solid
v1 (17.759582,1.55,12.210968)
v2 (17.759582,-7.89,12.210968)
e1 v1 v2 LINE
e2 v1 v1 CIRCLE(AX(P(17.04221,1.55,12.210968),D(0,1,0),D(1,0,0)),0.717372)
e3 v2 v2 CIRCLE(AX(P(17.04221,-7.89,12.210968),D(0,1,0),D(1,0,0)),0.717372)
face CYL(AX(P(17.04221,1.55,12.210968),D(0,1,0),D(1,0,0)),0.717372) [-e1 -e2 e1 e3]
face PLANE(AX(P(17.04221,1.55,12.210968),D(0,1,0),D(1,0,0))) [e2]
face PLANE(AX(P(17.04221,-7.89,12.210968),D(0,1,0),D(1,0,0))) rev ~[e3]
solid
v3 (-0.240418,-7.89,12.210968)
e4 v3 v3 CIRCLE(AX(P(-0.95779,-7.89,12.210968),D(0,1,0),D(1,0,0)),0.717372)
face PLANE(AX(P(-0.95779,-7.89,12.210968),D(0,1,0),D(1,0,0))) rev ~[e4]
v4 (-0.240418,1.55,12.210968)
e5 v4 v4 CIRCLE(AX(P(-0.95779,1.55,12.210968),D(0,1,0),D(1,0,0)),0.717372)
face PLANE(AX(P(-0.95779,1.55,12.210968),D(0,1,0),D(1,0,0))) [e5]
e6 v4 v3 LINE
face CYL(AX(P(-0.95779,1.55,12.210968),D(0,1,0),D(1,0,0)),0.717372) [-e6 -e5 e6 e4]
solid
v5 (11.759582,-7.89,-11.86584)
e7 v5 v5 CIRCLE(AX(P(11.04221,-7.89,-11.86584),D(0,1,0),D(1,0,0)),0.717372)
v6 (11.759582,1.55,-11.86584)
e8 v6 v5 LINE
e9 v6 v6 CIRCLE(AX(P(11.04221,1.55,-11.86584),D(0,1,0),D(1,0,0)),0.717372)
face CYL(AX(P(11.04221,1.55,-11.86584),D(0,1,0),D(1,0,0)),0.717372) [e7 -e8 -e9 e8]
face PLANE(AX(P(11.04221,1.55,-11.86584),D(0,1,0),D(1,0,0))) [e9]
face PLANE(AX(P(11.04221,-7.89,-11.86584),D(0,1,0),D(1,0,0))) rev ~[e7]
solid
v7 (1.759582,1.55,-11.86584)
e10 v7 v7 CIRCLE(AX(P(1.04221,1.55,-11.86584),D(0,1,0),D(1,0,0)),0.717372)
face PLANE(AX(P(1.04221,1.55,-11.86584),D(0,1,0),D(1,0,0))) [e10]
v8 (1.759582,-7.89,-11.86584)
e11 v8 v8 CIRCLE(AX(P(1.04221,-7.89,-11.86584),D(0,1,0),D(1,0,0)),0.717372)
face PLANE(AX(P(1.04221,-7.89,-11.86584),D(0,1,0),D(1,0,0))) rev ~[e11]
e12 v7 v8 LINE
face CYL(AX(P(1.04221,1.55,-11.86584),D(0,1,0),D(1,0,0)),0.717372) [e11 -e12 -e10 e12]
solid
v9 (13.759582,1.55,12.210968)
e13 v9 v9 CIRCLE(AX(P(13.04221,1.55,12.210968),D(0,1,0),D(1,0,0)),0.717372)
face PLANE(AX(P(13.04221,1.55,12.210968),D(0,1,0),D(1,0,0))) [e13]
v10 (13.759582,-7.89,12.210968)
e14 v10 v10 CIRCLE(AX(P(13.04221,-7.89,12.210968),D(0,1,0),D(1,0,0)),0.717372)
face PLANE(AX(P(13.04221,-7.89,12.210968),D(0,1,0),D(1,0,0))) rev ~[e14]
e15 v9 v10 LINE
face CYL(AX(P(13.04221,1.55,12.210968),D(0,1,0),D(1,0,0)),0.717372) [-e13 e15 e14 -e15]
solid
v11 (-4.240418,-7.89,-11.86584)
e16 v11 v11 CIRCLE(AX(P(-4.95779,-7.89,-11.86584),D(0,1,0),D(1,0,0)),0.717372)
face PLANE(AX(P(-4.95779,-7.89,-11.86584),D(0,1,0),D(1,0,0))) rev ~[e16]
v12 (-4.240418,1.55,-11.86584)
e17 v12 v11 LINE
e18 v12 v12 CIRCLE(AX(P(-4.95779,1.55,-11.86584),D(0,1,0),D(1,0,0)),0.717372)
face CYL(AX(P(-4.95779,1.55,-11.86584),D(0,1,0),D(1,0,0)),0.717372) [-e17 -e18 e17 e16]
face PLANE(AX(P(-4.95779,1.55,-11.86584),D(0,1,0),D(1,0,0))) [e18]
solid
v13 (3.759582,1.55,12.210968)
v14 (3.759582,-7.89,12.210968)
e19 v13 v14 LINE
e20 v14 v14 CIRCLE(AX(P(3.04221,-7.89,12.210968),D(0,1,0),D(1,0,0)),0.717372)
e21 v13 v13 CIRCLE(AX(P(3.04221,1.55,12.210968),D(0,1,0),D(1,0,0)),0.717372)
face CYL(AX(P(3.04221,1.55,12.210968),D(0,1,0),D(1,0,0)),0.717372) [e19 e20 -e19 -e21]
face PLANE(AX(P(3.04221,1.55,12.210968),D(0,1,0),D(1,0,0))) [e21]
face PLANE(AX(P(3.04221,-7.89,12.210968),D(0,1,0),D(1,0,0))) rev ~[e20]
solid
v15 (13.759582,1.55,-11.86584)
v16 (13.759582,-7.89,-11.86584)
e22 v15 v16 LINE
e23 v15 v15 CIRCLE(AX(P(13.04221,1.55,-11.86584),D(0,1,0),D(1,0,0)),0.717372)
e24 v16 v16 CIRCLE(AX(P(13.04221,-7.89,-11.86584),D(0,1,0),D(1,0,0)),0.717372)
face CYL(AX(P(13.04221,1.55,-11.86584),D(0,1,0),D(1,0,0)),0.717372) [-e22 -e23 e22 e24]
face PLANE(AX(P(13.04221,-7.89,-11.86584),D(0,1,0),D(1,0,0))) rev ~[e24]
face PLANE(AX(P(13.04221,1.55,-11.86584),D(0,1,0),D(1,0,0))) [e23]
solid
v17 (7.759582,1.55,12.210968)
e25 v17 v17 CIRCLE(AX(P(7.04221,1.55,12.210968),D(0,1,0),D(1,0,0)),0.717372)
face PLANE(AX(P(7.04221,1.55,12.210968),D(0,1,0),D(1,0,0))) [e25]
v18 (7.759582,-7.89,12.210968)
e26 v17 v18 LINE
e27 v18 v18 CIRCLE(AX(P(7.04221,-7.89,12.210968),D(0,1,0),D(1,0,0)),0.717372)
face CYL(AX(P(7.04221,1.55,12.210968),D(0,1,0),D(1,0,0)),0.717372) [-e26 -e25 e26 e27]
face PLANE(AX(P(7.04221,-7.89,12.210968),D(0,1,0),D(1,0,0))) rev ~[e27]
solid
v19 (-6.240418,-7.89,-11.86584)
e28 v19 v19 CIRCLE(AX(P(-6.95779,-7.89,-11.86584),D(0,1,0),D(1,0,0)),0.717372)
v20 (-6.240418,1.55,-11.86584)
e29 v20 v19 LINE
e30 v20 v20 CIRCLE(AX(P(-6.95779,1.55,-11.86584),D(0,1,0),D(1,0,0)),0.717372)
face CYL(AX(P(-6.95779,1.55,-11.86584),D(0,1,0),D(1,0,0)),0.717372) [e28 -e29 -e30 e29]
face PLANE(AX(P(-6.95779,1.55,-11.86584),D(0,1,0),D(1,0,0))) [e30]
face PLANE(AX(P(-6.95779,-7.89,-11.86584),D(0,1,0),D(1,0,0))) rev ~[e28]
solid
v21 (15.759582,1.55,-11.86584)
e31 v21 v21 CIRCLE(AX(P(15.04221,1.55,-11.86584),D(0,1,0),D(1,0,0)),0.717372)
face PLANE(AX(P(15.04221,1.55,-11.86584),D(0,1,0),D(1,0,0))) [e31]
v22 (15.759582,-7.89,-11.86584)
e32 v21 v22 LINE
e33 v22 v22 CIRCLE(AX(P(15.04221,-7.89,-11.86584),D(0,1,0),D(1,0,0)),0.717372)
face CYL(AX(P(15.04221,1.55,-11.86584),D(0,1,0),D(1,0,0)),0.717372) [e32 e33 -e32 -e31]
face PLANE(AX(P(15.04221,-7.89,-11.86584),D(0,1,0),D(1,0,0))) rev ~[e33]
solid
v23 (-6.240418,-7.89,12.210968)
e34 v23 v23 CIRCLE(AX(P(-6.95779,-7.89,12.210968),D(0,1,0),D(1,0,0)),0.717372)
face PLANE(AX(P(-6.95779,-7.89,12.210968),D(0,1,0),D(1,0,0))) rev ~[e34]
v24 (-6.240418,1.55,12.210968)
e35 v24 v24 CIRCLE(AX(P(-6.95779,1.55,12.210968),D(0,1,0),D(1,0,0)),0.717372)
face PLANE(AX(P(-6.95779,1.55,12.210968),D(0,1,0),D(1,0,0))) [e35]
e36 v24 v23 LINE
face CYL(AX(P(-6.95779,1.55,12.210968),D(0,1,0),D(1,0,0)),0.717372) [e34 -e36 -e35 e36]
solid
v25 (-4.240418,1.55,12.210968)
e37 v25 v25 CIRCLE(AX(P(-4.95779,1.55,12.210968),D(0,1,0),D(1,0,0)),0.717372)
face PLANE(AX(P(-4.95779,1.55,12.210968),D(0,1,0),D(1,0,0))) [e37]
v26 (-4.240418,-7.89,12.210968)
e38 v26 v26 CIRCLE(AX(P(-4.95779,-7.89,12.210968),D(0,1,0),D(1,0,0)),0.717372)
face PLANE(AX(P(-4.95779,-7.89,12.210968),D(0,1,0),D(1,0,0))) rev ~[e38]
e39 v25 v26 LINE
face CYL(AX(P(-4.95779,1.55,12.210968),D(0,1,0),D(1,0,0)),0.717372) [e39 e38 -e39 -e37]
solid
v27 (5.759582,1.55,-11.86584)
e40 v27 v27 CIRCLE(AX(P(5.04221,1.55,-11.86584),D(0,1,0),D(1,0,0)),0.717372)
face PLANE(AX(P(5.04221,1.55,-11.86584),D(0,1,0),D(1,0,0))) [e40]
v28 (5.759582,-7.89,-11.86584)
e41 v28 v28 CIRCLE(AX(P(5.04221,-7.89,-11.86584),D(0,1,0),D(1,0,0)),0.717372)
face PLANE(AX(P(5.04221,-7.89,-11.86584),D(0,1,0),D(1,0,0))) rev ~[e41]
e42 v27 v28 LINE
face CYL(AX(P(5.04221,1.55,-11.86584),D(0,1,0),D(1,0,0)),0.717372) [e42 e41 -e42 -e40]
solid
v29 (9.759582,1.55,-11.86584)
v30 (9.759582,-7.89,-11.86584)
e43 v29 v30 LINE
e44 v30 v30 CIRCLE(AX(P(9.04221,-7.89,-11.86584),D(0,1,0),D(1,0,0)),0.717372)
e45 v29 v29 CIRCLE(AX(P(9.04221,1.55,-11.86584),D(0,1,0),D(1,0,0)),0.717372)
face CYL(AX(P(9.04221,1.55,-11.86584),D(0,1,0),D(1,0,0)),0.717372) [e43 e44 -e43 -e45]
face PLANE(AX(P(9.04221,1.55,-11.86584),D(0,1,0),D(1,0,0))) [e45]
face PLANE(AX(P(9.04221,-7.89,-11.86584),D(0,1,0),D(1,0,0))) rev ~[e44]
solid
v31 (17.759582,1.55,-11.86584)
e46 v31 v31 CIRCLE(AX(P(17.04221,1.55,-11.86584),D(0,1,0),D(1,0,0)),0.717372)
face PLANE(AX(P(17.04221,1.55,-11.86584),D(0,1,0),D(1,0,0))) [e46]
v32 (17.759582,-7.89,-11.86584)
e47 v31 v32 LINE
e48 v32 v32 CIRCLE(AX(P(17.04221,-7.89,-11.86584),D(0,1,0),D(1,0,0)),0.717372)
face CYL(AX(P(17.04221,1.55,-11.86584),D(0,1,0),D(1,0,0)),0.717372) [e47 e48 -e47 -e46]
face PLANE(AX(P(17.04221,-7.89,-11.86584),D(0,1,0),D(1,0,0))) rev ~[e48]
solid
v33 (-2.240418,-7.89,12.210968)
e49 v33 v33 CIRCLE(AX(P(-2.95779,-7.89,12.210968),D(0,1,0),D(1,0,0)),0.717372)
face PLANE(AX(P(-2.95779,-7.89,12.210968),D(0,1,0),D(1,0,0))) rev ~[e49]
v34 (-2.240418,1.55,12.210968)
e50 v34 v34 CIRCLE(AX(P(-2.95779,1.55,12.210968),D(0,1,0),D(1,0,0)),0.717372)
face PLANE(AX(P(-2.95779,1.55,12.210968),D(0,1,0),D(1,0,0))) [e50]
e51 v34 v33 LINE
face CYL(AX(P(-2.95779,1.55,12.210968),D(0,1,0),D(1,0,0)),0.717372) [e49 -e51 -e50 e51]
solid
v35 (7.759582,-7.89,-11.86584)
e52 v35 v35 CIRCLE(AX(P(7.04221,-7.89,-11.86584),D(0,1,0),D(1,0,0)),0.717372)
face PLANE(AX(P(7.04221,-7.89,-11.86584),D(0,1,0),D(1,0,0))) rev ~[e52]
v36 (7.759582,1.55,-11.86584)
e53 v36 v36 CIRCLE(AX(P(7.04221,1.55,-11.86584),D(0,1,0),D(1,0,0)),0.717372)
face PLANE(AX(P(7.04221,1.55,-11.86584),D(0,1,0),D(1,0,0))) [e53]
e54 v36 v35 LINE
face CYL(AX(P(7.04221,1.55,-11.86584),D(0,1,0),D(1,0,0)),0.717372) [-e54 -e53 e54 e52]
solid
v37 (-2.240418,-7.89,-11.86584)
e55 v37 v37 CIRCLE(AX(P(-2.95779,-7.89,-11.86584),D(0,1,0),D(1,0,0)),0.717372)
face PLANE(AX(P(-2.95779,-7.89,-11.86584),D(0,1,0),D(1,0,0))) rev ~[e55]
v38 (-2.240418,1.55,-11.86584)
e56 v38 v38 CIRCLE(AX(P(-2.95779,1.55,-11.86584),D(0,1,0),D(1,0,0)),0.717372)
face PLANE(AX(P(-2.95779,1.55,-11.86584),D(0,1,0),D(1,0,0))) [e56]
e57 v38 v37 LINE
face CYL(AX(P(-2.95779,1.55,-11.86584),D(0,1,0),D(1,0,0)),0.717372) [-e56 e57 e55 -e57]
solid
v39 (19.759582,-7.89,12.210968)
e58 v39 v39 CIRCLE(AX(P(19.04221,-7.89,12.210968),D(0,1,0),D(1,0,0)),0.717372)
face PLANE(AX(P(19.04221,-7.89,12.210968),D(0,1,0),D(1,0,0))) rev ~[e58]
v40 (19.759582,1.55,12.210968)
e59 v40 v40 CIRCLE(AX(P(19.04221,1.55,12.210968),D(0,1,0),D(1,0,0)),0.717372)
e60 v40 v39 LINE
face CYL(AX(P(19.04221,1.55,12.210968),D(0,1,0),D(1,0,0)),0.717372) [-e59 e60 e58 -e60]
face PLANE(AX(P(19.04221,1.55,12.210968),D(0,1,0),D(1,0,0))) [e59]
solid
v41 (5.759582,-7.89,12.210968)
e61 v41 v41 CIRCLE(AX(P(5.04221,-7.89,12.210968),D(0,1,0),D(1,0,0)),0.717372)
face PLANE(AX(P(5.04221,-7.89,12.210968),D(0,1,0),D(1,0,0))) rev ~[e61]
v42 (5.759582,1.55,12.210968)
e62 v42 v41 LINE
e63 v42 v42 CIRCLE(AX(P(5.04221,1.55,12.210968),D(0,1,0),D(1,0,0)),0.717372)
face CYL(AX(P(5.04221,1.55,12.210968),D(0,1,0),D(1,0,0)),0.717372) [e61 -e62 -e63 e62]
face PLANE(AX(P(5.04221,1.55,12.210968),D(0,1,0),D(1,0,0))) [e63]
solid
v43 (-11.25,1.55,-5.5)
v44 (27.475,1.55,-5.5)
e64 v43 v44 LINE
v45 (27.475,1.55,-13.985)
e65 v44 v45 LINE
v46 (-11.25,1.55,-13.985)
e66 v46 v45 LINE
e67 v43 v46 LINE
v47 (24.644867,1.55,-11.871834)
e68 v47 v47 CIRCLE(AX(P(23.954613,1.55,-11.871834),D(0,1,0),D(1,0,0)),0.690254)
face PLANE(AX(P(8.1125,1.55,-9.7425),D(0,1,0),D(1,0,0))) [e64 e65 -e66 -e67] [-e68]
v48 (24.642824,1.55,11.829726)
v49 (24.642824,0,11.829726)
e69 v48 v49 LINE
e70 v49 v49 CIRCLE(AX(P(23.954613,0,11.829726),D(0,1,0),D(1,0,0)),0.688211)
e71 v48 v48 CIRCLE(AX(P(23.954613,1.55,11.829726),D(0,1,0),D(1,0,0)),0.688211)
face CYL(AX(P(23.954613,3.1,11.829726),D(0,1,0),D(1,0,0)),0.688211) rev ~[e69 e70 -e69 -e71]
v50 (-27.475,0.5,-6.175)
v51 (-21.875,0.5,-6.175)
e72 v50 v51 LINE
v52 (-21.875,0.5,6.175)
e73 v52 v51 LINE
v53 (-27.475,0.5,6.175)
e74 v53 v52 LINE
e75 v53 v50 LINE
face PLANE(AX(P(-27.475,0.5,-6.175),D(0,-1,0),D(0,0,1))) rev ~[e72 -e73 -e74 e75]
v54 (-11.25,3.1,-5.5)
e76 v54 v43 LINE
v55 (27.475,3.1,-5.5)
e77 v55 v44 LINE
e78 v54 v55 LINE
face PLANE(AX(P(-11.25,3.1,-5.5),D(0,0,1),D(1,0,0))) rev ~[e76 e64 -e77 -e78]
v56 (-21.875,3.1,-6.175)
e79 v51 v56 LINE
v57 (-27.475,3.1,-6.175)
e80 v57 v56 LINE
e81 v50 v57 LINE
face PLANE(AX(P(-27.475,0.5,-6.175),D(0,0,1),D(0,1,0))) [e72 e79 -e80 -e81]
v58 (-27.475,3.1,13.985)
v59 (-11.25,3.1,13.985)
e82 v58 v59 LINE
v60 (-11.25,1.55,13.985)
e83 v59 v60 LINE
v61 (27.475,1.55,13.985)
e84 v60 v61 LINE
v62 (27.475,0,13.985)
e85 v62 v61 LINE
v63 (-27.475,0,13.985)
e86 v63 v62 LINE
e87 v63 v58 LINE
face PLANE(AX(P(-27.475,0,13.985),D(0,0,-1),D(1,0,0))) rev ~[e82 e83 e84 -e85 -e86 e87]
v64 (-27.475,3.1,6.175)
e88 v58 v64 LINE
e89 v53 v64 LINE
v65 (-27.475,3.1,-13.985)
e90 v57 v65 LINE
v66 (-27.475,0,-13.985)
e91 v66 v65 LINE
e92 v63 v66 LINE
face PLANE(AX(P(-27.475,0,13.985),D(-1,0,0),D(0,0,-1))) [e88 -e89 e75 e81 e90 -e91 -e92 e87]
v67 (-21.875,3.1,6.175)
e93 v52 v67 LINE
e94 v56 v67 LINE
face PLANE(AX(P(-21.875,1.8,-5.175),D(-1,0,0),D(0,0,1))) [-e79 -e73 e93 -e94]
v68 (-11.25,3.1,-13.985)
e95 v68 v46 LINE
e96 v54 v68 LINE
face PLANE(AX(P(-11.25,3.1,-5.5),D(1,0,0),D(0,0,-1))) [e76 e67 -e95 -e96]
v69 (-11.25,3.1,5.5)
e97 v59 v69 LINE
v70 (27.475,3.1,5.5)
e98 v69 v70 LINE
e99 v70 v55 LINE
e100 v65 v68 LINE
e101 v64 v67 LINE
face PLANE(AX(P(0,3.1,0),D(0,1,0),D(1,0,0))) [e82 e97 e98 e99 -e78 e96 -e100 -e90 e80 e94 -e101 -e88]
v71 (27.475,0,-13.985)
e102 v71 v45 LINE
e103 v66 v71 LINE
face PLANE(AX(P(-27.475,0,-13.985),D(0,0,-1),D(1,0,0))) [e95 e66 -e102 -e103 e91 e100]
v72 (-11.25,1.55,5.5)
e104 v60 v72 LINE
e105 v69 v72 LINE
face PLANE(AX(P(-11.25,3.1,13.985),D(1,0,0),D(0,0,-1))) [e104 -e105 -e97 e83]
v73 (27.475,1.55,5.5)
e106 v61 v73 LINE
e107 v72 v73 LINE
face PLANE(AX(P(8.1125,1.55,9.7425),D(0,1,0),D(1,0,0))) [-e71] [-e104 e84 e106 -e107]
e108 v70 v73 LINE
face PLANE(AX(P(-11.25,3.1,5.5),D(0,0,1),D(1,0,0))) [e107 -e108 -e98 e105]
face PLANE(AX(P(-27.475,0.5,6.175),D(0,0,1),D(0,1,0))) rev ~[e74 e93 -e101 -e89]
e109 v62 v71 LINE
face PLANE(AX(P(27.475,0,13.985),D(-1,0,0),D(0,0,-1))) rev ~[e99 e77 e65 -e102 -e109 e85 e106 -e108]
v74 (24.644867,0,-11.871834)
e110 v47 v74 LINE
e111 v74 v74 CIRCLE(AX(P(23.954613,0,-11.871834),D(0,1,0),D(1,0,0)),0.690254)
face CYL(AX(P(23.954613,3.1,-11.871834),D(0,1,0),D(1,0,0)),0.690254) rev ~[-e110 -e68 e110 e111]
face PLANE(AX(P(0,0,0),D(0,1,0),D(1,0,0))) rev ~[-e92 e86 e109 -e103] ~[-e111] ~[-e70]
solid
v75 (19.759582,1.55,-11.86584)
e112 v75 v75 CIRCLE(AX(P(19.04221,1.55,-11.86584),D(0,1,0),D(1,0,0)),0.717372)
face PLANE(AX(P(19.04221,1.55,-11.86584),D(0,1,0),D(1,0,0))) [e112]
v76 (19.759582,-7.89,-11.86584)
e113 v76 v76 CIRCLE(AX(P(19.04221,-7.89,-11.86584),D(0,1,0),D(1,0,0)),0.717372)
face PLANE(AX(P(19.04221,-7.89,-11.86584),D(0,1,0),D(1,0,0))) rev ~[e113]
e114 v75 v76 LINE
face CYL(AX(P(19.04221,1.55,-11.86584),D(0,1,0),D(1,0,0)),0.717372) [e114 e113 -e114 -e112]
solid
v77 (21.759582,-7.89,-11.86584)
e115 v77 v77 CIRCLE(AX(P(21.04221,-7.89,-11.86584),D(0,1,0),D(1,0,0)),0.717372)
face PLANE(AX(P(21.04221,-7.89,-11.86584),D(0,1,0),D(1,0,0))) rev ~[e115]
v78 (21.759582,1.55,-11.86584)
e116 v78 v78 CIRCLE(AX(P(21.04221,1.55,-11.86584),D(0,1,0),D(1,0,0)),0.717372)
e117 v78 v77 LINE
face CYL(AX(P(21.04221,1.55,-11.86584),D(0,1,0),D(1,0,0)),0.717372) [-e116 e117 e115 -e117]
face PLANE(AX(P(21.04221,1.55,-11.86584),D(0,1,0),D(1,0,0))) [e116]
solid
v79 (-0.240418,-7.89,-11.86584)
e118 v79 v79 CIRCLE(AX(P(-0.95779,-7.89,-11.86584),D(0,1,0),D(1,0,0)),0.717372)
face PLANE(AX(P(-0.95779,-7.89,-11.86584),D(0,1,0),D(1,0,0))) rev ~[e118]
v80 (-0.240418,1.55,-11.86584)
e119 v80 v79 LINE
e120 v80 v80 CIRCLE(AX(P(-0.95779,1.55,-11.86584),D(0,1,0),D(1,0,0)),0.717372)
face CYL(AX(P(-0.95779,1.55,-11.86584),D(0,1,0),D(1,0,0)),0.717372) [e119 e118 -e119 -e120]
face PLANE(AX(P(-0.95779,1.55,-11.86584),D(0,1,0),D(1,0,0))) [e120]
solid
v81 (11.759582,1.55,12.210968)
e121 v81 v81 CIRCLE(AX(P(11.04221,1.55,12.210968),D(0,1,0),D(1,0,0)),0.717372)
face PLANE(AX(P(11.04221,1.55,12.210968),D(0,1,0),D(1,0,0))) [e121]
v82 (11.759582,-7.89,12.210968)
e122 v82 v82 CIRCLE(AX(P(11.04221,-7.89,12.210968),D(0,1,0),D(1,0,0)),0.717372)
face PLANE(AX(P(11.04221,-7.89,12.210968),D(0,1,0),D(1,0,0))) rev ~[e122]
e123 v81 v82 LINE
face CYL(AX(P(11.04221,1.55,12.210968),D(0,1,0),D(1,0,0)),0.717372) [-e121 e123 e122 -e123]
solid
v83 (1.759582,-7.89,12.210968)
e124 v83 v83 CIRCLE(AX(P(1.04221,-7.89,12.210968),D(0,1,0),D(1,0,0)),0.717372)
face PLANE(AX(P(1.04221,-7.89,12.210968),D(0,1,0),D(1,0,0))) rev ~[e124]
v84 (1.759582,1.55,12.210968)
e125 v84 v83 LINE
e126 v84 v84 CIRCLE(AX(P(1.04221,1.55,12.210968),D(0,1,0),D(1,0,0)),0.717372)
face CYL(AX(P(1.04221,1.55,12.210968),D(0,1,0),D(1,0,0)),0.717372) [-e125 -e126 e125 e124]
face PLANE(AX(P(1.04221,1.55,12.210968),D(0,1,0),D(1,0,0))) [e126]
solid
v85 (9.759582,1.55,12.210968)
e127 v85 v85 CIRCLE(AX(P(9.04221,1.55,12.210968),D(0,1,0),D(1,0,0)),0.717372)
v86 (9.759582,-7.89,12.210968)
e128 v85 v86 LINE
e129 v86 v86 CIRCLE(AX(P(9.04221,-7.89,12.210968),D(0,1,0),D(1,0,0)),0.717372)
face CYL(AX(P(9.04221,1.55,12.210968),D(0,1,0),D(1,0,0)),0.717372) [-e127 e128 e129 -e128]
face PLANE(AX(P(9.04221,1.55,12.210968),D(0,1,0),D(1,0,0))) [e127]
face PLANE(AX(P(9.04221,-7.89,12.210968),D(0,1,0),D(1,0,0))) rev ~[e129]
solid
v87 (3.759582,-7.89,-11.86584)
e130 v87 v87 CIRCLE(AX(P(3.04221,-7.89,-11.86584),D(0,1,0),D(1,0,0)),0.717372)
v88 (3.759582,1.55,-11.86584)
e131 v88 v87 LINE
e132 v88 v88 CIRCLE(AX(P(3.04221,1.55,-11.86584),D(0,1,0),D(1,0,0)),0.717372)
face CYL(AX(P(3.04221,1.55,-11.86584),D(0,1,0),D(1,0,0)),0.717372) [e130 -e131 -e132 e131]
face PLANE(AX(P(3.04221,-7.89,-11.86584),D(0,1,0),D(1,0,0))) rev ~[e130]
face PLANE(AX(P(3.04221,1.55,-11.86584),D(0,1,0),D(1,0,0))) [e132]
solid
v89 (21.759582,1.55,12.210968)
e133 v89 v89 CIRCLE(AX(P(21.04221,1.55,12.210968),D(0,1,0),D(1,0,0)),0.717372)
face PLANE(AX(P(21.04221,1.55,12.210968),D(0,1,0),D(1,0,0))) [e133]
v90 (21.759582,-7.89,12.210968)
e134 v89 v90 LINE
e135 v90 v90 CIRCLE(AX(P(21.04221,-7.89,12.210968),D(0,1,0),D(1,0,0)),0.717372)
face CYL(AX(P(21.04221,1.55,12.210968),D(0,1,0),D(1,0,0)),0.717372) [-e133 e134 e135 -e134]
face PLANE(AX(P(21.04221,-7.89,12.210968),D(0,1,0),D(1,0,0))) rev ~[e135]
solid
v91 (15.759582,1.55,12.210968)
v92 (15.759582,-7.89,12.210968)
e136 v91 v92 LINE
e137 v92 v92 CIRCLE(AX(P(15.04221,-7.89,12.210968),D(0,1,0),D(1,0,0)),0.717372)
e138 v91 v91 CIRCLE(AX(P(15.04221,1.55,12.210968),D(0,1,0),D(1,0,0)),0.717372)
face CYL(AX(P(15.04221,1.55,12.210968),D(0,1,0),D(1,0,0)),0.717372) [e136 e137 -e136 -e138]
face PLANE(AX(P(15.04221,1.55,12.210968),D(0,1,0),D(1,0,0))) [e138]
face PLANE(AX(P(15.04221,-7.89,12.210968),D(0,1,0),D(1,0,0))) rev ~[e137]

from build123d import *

# Parameters (mm, degrees)
SKETCH1_W              = 54.95
SKETCH1_H              = 27.97
BOSS_EXTRUDE1_DEPTH    = 3.1
SKETCH2_R              = 0.690254267
SKETCH2_R_2            = 0.688211373
CUT_EXTRUDE1_DEPTH     = 3.1
SKETCH3_W              = 38.725
SKETCH3_H              = 8.485
CUT_EXTRUDE2_DEPTH     = 1.55
SKETCH4_R              = 0.717372299
BOSS_EXTRUDE2_DEPTH    = 9.44
BOSS_EXTRUDE2_2_DEPTH  = 9.44
BOSS_EXTRUDE2_3_DEPTH  = 9.44
BOSS_EXTRUDE2_4_DEPTH  = 9.44
BOSS_EXTRUDE2_5_DEPTH  = 9.44
BOSS_EXTRUDE2_6_DEPTH  = 9.44
BOSS_EXTRUDE2_7_DEPTH  = 9.44
BOSS_EXTRUDE2_8_DEPTH  = 9.44
BOSS_EXTRUDE2_9_DEPTH  = 9.44
BOSS_EXTRUDE2_10_DEPTH = 9.44
BOSS_EXTRUDE2_11_DEPTH = 9.44
BOSS_EXTRUDE2_12_DEPTH = 9.44
BOSS_EXTRUDE2_13_DEPTH = 9.44
BOSS_EXTRUDE2_14_DEPTH = 9.44
BOSS_EXTRUDE2_15_DEPTH = 9.44
BOSS_EXTRUDE2_16_DEPTH = 9.44
BOSS_EXTRUDE2_17_DEPTH = 9.44
BOSS_EXTRUDE2_18_DEPTH = 9.44
BOSS_EXTRUDE2_19_DEPTH = 9.44
BOSS_EXTRUDE2_20_DEPTH = 9.44
BOSS_EXTRUDE2_21_DEPTH = 9.44
BOSS_EXTRUDE2_22_DEPTH = 9.44
BOSS_EXTRUDE2_23_DEPTH = 9.44
BOSS_EXTRUDE2_24_DEPTH = 9.44
BOSS_EXTRUDE2_25_DEPTH = 9.44
BOSS_EXTRUDE2_26_DEPTH = 9.44
BOSS_EXTRUDE2_27_DEPTH = 9.44
BOSS_EXTRUDE2_28_DEPTH = 9.44
BOSS_EXTRUDE2_29_DEPTH = 9.44
BOSS_EXTRUDE2_30_DEPTH = 9.44
SKETCH5_W              = 5.6
SKETCH5_H              = 8.35
CUT_EXTRUDE3_DEPTH     = 2.6
CHAMFER1_SIZE          = 2
SKETCH6_W              = 2
SKETCH6_H              = 2.6
CUT_EXTRUDE5_DEPTH     = 5.6


with BuildPart() as part:
    # Sketch1 → Boss-Extrude1 (new body)
    with BuildSketch(Plane(origin=(0, 0, 0), x_dir=(1, 0, 0), z_dir=(0, 1, 0))):
        Rectangle(SKETCH1_W, SKETCH1_H)
    extrude(amount=BOSS_EXTRUDE1_DEPTH)

    # Sketch2 → Cut-Extrude1 (cut)
    with BuildSketch(Plane(origin=(0, 3.1, 0), x_dir=(1, 0, 0), z_dir=(0, 1, 0))):
        with Locations((23.954612537, 11.871833626)):
            Circle(SKETCH2_R)
        with Locations((23.954612537, -11.829726089)):
            Circle(SKETCH2_R_2)
    extrude(amount=-CUT_EXTRUDE1_DEPTH, mode=Mode.SUBTRACT)

    # Sketch3 → Cut-Extrude2 (cut)
    with BuildSketch(Plane(origin=(0, 3.1, 0), x_dir=(1, 0, 0), z_dir=(0, 1, 0))):
        with Locations((8.1125, 9.7425)):
            Rectangle(SKETCH3_W, SKETCH3_H)
        with Locations((8.1125, -9.7425)):
            Rectangle(SKETCH3_W, SKETCH3_H)
    extrude(amount=-CUT_EXTRUDE2_DEPTH, mode=Mode.SUBTRACT)

    # Sketch5 → Cut-Extrude3 (cut)
    with BuildSketch(Plane(origin=(0, 3.1, 0), x_dir=(1, 0, 0), z_dir=(0, 1, 0))):
        with Locations((-24.675, 0)):
            Rectangle(SKETCH5_W, SKETCH5_H)
    extrude(amount=-CUT_EXTRUDE3_DEPTH, mode=Mode.SUBTRACT)

    # Chamfer1
    chamfer1_edges = [part.edges().sort_by_distance(p)[0] for p in [
        (-24.675, 3.1, 4.175),
        (-24.675, 3.1, -4.175),
    ]]
    chamfer(chamfer1_edges, length=CHAMFER1_SIZE)

    # Sketch6 → Cut-Extrude5 (cut)
    with BuildSketch(Plane.ZY.offset(27.475)):
        with Locations((-5.175, 1.8)):
            Rectangle(SKETCH6_W, SKETCH6_H)
        with Locations((5.175, 1.8)):
            Rectangle(SKETCH6_W, SKETCH6_H)
    extrude(amount=-CUT_EXTRUDE5_DEPTH, mode=Mode.SUBTRACT)


with BuildPart() as body_2:
    # Sketch4 → Boss-Extrude2 (new body)
    with BuildSketch(Plane(origin=(0, 1.55, 0), x_dir=(1, 0, 0), z_dir=(0, 1, 0))):
        with Locations((21.042209533, 11.865840209)):
            Circle(SKETCH4_R)
    extrude(amount=-BOSS_EXTRUDE2_DEPTH)


with BuildPart() as body_3:
    # Sketch4 → Boss-Extrude2 2 (new body)
    with BuildSketch(Plane(origin=(0, 1.55, 0), x_dir=(1, 0, 0), z_dir=(0, 1, 0))):
        with Locations((21.042209533, -12.21096759)):
            Circle(SKETCH4_R)
    extrude(amount=-BOSS_EXTRUDE2_2_DEPTH)


with BuildPart() as body_4:
    # Sketch4 → Boss-Extrude2 3 (new body)
    with BuildSketch(Plane(origin=(0, 1.55, 0), x_dir=(1, 0, 0), z_dir=(0, 1, 0))):
        with Locations((19.042209533, -12.21096759)):
            Circle(SKETCH4_R)
    extrude(amount=-BOSS_EXTRUDE2_3_DEPTH)


with BuildPart() as body_5:
    # Sketch4 → Boss-Extrude2 4 (new body)
    with BuildSketch(Plane(origin=(0, 1.55, 0), x_dir=(1, 0, 0), z_dir=(0, 1, 0))):
        with Locations((17.042209533, -12.21096759)):
            Circle(SKETCH4_R)
    extrude(amount=-BOSS_EXTRUDE2_4_DEPTH)


with BuildPart() as body_6:
    # Sketch4 → Boss-Extrude2 5 (new body)
    with BuildSketch(Plane(origin=(0, 1.55, 0), x_dir=(1, 0, 0), z_dir=(0, 1, 0))):
        with Locations((15.042209533, -12.21096759)):
            Circle(SKETCH4_R)
    extrude(amount=-BOSS_EXTRUDE2_5_DEPTH)


with BuildPart() as body_7:
    # Sketch4 → Boss-Extrude2 6 (new body)
    with BuildSketch(Plane(origin=(0, 1.55, 0), x_dir=(1, 0, 0), z_dir=(0, 1, 0))):
        with Locations((13.042209533, -12.21096759)):
            Circle(SKETCH4_R)
    extrude(amount=-BOSS_EXTRUDE2_6_DEPTH)


with BuildPart() as body_8:
    # Sketch4 → Boss-Extrude2 7 (new body)
    with BuildSketch(Plane(origin=(0, 1.55, 0), x_dir=(1, 0, 0), z_dir=(0, 1, 0))):
        with Locations((11.042209533, -12.21096759)):
            Circle(SKETCH4_R)
    extrude(amount=-BOSS_EXTRUDE2_7_DEPTH)


with BuildPart() as body_9:
    # Sketch4 → Boss-Extrude2 8 (new body)
    with BuildSketch(Plane(origin=(0, 1.55, 0), x_dir=(1, 0, 0), z_dir=(0, 1, 0))):
        with Locations((9.042209533, -12.21096759)):
            Circle(SKETCH4_R)
    extrude(amount=-BOSS_EXTRUDE2_8_DEPTH)


with BuildPart() as body_10:
    # Sketch4 → Boss-Extrude2 9 (new body)
    with BuildSketch(Plane(origin=(0, 1.55, 0), x_dir=(1, 0, 0), z_dir=(0, 1, 0))):
        with Locations((7.042209533, -12.21096759)):
            Circle(SKETCH4_R)
    extrude(amount=-BOSS_EXTRUDE2_9_DEPTH)


with BuildPart() as body_11:
    # Sketch4 → Boss-Extrude2 10 (new body)
    with BuildSketch(Plane(origin=(0, 1.55, 0), x_dir=(1, 0, 0), z_dir=(0, 1, 0))):
        with Locations((5.042209533, -12.21096759)):
            Circle(SKETCH4_R)
    extrude(amount=-BOSS_EXTRUDE2_10_DEPTH)


with BuildPart() as body_12:
    # Sketch4 → Boss-Extrude2 11 (new body)
    with BuildSketch(Plane(origin=(0, 1.55, 0), x_dir=(1, 0, 0), z_dir=(0, 1, 0))):
        with Locations((3.042209533, -12.21096759)):
            Circle(SKETCH4_R)
    extrude(amount=-BOSS_EXTRUDE2_11_DEPTH)


with BuildPart() as body_13:
    # Sketch4 → Boss-Extrude2 12 (new body)
    with BuildSketch(Plane(origin=(0, 1.55, 0), x_dir=(1, 0, 0), z_dir=(0, 1, 0))):
        with Locations((1.042209533, -12.21096759)):
            Circle(SKETCH4_R)
    extrude(amount=-BOSS_EXTRUDE2_12_DEPTH)


with BuildPart() as body_14:
    # Sketch4 → Boss-Extrude2 13 (new body)
    with BuildSketch(Plane(origin=(0, 1.55, 0), x_dir=(1, 0, 0), z_dir=(0, 1, 0))):
        with Locations((-0.957790467, -12.21096759)):
            Circle(SKETCH4_R)
    extrude(amount=-BOSS_EXTRUDE2_13_DEPTH)


with BuildPart() as body_15:
    # Sketch4 → Boss-Extrude2 14 (new body)
    with BuildSketch(Plane(origin=(0, 1.55, 0), x_dir=(1, 0, 0), z_dir=(0, 1, 0))):
        with Locations((-2.957790467, -12.21096759)):
            Circle(SKETCH4_R)
    extrude(amount=-BOSS_EXTRUDE2_14_DEPTH)


with BuildPart() as body_16:
    # Sketch4 → Boss-Extrude2 15 (new body)
    with BuildSketch(Plane(origin=(0, 1.55, 0), x_dir=(1, 0, 0), z_dir=(0, 1, 0))):
        with Locations((-4.957790467, -12.21096759)):
            Circle(SKETCH4_R)
    extrude(amount=-BOSS_EXTRUDE2_15_DEPTH)


with BuildPart() as body_17:
    # Sketch4 → Boss-Extrude2 16 (new body)
    with BuildSketch(Plane(origin=(0, 1.55, 0), x_dir=(1, 0, 0), z_dir=(0, 1, 0))):
        with Locations((-6.957790467, -12.21096759)):
            Circle(SKETCH4_R)
    extrude(amount=-BOSS_EXTRUDE2_16_DEPTH)


with BuildPart() as body_18:
    # Sketch4 → Boss-Extrude2 17 (new body)
    with BuildSketch(Plane(origin=(0, 1.55, 0), x_dir=(1, 0, 0), z_dir=(0, 1, 0))):
        with Locations((19.042209533, 11.865840209)):
            Circle(SKETCH4_R)
    extrude(amount=-BOSS_EXTRUDE2_17_DEPTH)


with BuildPart() as body_19:
    # Sketch4 → Boss-Extrude2 18 (new body)
    with BuildSketch(Plane(origin=(0, 1.55, 0), x_dir=(1, 0, 0), z_dir=(0, 1, 0))):
        with Locations((17.042209533, 11.865840209)):
            Circle(SKETCH4_R)
    extrude(amount=-BOSS_EXTRUDE2_18_DEPTH)


with BuildPart() as body_20:
    # Sketch4 → Boss-Extrude2 19 (new body)
    with BuildSketch(Plane(origin=(0, 1.55, 0), x_dir=(1, 0, 0), z_dir=(0, 1, 0))):
        with Locations((15.042209533, 11.865840209)):
            Circle(SKETCH4_R)
    extrude(amount=-BOSS_EXTRUDE2_19_DEPTH)


with BuildPart() as body_21:
    # Sketch4 → Boss-Extrude2 20 (new body)
    with BuildSketch(Plane(origin=(0, 1.55, 0), x_dir=(1, 0, 0), z_dir=(0, 1, 0))):
        with Locations((13.042209533, 11.865840209)):
            Circle(SKETCH4_R)
    extrude(amount=-BOSS_EXTRUDE2_20_DEPTH)


with BuildPart() as body_22:
    # Sketch4 → Boss-Extrude2 21 (new body)
    with BuildSketch(Plane(origin=(0, 1.55, 0), x_dir=(1, 0, 0), z_dir=(0, 1, 0))):
        with Locations((11.042209533, 11.865840209)):
            Circle(SKETCH4_R)
    extrude(amount=-BOSS_EXTRUDE2_21_DEPTH)


with BuildPart() as body_23:
    # Sketch4 → Boss-Extrude2 22 (new body)
    with BuildSketch(Plane(origin=(0, 1.55, 0), x_dir=(1, 0, 0), z_dir=(0, 1, 0))):
        with Locations((9.042209533, 11.865840209)):
            Circle(SKETCH4_R)
    extrude(amount=-BOSS_EXTRUDE2_22_DEPTH)


with BuildPart() as body_24:
    # Sketch4 → Boss-Extrude2 23 (new body)
    with BuildSketch(Plane(origin=(0, 1.55, 0), x_dir=(1, 0, 0), z_dir=(0, 1, 0))):
        with Locations((7.042209533, 11.865840209)):
            Circle(SKETCH4_R)
    extrude(amount=-BOSS_EXTRUDE2_23_DEPTH)


with BuildPart() as body_25:
    # Sketch4 → Boss-Extrude2 24 (new body)
    with BuildSketch(Plane(origin=(0, 1.55, 0), x_dir=(1, 0, 0), z_dir=(0, 1, 0))):
        with Locations((5.042209533, 11.865840209)):
            Circle(SKETCH4_R)
    extrude(amount=-BOSS_EXTRUDE2_24_DEPTH)


with BuildPart() as body_26:
    # Sketch4 → Boss-Extrude2 25 (new body)
    with BuildSketch(Plane(origin=(0, 1.55, 0), x_dir=(1, 0, 0), z_dir=(0, 1, 0))):
        with Locations((3.042209533, 11.865840209)):
            Circle(SKETCH4_R)
    extrude(amount=-BOSS_EXTRUDE2_25_DEPTH)


with BuildPart() as body_27:
    # Sketch4 → Boss-Extrude2 26 (new body)
    with BuildSketch(Plane(origin=(0, 1.55, 0), x_dir=(1, 0, 0), z_dir=(0, 1, 0))):
        with Locations((1.042209533, 11.865840209)):
            Circle(SKETCH4_R)
    extrude(amount=-BOSS_EXTRUDE2_26_DEPTH)


with BuildPart() as body_28:
    # Sketch4 → Boss-Extrude2 27 (new body)
    with BuildSketch(Plane(origin=(0, 1.55, 0), x_dir=(1, 0, 0), z_dir=(0, 1, 0))):
        with Locations((-0.957790467, 11.865840209)):
            Circle(SKETCH4_R)
    extrude(amount=-BOSS_EXTRUDE2_27_DEPTH)


with BuildPart() as body_29:
    # Sketch4 → Boss-Extrude2 28 (new body)
    with BuildSketch(Plane(origin=(0, 1.55, 0), x_dir=(1, 0, 0), z_dir=(0, 1, 0))):
        with Locations((-2.957790467, 11.865840209)):
            Circle(SKETCH4_R)
    extrude(amount=-BOSS_EXTRUDE2_28_DEPTH)


with BuildPart() as body_30:
    # Sketch4 → Boss-Extrude2 29 (new body)
    with BuildSketch(Plane(origin=(0, 1.55, 0), x_dir=(1, 0, 0), z_dir=(0, 1, 0))):
        with Locations((-4.957790467, 11.865840209)):
            Circle(SKETCH4_R)
    extrude(amount=-BOSS_EXTRUDE2_29_DEPTH)


with BuildPart() as body_31:
    # Sketch4 → Boss-Extrude2 30 (new body)
    with BuildSketch(Plane(origin=(0, 1.55, 0), x_dir=(1, 0, 0), z_dir=(0, 1, 0))):
        with Locations((-6.957790467, 11.865840209)):
            Circle(SKETCH4_R)
    extrude(amount=-BOSS_EXTRUDE2_30_DEPTH)


solid = Compound([part.part, body_2.part, body_3.part, body_4.part, body_5.part, body_6.part, body_7.part, body_8.part, body_9.part, body_10.part, body_11.part, body_12.part, body_13.part, body_14.part, body_15.part, body_16.part, body_17.part, body_18.part, body_19.part, body_20.part, body_21.part, body_22.part, body_23.part, body_24.part, body_25.part, body_26.part, body_27.part, body_28.part, body_29.part, body_30.part, body_31.part])
